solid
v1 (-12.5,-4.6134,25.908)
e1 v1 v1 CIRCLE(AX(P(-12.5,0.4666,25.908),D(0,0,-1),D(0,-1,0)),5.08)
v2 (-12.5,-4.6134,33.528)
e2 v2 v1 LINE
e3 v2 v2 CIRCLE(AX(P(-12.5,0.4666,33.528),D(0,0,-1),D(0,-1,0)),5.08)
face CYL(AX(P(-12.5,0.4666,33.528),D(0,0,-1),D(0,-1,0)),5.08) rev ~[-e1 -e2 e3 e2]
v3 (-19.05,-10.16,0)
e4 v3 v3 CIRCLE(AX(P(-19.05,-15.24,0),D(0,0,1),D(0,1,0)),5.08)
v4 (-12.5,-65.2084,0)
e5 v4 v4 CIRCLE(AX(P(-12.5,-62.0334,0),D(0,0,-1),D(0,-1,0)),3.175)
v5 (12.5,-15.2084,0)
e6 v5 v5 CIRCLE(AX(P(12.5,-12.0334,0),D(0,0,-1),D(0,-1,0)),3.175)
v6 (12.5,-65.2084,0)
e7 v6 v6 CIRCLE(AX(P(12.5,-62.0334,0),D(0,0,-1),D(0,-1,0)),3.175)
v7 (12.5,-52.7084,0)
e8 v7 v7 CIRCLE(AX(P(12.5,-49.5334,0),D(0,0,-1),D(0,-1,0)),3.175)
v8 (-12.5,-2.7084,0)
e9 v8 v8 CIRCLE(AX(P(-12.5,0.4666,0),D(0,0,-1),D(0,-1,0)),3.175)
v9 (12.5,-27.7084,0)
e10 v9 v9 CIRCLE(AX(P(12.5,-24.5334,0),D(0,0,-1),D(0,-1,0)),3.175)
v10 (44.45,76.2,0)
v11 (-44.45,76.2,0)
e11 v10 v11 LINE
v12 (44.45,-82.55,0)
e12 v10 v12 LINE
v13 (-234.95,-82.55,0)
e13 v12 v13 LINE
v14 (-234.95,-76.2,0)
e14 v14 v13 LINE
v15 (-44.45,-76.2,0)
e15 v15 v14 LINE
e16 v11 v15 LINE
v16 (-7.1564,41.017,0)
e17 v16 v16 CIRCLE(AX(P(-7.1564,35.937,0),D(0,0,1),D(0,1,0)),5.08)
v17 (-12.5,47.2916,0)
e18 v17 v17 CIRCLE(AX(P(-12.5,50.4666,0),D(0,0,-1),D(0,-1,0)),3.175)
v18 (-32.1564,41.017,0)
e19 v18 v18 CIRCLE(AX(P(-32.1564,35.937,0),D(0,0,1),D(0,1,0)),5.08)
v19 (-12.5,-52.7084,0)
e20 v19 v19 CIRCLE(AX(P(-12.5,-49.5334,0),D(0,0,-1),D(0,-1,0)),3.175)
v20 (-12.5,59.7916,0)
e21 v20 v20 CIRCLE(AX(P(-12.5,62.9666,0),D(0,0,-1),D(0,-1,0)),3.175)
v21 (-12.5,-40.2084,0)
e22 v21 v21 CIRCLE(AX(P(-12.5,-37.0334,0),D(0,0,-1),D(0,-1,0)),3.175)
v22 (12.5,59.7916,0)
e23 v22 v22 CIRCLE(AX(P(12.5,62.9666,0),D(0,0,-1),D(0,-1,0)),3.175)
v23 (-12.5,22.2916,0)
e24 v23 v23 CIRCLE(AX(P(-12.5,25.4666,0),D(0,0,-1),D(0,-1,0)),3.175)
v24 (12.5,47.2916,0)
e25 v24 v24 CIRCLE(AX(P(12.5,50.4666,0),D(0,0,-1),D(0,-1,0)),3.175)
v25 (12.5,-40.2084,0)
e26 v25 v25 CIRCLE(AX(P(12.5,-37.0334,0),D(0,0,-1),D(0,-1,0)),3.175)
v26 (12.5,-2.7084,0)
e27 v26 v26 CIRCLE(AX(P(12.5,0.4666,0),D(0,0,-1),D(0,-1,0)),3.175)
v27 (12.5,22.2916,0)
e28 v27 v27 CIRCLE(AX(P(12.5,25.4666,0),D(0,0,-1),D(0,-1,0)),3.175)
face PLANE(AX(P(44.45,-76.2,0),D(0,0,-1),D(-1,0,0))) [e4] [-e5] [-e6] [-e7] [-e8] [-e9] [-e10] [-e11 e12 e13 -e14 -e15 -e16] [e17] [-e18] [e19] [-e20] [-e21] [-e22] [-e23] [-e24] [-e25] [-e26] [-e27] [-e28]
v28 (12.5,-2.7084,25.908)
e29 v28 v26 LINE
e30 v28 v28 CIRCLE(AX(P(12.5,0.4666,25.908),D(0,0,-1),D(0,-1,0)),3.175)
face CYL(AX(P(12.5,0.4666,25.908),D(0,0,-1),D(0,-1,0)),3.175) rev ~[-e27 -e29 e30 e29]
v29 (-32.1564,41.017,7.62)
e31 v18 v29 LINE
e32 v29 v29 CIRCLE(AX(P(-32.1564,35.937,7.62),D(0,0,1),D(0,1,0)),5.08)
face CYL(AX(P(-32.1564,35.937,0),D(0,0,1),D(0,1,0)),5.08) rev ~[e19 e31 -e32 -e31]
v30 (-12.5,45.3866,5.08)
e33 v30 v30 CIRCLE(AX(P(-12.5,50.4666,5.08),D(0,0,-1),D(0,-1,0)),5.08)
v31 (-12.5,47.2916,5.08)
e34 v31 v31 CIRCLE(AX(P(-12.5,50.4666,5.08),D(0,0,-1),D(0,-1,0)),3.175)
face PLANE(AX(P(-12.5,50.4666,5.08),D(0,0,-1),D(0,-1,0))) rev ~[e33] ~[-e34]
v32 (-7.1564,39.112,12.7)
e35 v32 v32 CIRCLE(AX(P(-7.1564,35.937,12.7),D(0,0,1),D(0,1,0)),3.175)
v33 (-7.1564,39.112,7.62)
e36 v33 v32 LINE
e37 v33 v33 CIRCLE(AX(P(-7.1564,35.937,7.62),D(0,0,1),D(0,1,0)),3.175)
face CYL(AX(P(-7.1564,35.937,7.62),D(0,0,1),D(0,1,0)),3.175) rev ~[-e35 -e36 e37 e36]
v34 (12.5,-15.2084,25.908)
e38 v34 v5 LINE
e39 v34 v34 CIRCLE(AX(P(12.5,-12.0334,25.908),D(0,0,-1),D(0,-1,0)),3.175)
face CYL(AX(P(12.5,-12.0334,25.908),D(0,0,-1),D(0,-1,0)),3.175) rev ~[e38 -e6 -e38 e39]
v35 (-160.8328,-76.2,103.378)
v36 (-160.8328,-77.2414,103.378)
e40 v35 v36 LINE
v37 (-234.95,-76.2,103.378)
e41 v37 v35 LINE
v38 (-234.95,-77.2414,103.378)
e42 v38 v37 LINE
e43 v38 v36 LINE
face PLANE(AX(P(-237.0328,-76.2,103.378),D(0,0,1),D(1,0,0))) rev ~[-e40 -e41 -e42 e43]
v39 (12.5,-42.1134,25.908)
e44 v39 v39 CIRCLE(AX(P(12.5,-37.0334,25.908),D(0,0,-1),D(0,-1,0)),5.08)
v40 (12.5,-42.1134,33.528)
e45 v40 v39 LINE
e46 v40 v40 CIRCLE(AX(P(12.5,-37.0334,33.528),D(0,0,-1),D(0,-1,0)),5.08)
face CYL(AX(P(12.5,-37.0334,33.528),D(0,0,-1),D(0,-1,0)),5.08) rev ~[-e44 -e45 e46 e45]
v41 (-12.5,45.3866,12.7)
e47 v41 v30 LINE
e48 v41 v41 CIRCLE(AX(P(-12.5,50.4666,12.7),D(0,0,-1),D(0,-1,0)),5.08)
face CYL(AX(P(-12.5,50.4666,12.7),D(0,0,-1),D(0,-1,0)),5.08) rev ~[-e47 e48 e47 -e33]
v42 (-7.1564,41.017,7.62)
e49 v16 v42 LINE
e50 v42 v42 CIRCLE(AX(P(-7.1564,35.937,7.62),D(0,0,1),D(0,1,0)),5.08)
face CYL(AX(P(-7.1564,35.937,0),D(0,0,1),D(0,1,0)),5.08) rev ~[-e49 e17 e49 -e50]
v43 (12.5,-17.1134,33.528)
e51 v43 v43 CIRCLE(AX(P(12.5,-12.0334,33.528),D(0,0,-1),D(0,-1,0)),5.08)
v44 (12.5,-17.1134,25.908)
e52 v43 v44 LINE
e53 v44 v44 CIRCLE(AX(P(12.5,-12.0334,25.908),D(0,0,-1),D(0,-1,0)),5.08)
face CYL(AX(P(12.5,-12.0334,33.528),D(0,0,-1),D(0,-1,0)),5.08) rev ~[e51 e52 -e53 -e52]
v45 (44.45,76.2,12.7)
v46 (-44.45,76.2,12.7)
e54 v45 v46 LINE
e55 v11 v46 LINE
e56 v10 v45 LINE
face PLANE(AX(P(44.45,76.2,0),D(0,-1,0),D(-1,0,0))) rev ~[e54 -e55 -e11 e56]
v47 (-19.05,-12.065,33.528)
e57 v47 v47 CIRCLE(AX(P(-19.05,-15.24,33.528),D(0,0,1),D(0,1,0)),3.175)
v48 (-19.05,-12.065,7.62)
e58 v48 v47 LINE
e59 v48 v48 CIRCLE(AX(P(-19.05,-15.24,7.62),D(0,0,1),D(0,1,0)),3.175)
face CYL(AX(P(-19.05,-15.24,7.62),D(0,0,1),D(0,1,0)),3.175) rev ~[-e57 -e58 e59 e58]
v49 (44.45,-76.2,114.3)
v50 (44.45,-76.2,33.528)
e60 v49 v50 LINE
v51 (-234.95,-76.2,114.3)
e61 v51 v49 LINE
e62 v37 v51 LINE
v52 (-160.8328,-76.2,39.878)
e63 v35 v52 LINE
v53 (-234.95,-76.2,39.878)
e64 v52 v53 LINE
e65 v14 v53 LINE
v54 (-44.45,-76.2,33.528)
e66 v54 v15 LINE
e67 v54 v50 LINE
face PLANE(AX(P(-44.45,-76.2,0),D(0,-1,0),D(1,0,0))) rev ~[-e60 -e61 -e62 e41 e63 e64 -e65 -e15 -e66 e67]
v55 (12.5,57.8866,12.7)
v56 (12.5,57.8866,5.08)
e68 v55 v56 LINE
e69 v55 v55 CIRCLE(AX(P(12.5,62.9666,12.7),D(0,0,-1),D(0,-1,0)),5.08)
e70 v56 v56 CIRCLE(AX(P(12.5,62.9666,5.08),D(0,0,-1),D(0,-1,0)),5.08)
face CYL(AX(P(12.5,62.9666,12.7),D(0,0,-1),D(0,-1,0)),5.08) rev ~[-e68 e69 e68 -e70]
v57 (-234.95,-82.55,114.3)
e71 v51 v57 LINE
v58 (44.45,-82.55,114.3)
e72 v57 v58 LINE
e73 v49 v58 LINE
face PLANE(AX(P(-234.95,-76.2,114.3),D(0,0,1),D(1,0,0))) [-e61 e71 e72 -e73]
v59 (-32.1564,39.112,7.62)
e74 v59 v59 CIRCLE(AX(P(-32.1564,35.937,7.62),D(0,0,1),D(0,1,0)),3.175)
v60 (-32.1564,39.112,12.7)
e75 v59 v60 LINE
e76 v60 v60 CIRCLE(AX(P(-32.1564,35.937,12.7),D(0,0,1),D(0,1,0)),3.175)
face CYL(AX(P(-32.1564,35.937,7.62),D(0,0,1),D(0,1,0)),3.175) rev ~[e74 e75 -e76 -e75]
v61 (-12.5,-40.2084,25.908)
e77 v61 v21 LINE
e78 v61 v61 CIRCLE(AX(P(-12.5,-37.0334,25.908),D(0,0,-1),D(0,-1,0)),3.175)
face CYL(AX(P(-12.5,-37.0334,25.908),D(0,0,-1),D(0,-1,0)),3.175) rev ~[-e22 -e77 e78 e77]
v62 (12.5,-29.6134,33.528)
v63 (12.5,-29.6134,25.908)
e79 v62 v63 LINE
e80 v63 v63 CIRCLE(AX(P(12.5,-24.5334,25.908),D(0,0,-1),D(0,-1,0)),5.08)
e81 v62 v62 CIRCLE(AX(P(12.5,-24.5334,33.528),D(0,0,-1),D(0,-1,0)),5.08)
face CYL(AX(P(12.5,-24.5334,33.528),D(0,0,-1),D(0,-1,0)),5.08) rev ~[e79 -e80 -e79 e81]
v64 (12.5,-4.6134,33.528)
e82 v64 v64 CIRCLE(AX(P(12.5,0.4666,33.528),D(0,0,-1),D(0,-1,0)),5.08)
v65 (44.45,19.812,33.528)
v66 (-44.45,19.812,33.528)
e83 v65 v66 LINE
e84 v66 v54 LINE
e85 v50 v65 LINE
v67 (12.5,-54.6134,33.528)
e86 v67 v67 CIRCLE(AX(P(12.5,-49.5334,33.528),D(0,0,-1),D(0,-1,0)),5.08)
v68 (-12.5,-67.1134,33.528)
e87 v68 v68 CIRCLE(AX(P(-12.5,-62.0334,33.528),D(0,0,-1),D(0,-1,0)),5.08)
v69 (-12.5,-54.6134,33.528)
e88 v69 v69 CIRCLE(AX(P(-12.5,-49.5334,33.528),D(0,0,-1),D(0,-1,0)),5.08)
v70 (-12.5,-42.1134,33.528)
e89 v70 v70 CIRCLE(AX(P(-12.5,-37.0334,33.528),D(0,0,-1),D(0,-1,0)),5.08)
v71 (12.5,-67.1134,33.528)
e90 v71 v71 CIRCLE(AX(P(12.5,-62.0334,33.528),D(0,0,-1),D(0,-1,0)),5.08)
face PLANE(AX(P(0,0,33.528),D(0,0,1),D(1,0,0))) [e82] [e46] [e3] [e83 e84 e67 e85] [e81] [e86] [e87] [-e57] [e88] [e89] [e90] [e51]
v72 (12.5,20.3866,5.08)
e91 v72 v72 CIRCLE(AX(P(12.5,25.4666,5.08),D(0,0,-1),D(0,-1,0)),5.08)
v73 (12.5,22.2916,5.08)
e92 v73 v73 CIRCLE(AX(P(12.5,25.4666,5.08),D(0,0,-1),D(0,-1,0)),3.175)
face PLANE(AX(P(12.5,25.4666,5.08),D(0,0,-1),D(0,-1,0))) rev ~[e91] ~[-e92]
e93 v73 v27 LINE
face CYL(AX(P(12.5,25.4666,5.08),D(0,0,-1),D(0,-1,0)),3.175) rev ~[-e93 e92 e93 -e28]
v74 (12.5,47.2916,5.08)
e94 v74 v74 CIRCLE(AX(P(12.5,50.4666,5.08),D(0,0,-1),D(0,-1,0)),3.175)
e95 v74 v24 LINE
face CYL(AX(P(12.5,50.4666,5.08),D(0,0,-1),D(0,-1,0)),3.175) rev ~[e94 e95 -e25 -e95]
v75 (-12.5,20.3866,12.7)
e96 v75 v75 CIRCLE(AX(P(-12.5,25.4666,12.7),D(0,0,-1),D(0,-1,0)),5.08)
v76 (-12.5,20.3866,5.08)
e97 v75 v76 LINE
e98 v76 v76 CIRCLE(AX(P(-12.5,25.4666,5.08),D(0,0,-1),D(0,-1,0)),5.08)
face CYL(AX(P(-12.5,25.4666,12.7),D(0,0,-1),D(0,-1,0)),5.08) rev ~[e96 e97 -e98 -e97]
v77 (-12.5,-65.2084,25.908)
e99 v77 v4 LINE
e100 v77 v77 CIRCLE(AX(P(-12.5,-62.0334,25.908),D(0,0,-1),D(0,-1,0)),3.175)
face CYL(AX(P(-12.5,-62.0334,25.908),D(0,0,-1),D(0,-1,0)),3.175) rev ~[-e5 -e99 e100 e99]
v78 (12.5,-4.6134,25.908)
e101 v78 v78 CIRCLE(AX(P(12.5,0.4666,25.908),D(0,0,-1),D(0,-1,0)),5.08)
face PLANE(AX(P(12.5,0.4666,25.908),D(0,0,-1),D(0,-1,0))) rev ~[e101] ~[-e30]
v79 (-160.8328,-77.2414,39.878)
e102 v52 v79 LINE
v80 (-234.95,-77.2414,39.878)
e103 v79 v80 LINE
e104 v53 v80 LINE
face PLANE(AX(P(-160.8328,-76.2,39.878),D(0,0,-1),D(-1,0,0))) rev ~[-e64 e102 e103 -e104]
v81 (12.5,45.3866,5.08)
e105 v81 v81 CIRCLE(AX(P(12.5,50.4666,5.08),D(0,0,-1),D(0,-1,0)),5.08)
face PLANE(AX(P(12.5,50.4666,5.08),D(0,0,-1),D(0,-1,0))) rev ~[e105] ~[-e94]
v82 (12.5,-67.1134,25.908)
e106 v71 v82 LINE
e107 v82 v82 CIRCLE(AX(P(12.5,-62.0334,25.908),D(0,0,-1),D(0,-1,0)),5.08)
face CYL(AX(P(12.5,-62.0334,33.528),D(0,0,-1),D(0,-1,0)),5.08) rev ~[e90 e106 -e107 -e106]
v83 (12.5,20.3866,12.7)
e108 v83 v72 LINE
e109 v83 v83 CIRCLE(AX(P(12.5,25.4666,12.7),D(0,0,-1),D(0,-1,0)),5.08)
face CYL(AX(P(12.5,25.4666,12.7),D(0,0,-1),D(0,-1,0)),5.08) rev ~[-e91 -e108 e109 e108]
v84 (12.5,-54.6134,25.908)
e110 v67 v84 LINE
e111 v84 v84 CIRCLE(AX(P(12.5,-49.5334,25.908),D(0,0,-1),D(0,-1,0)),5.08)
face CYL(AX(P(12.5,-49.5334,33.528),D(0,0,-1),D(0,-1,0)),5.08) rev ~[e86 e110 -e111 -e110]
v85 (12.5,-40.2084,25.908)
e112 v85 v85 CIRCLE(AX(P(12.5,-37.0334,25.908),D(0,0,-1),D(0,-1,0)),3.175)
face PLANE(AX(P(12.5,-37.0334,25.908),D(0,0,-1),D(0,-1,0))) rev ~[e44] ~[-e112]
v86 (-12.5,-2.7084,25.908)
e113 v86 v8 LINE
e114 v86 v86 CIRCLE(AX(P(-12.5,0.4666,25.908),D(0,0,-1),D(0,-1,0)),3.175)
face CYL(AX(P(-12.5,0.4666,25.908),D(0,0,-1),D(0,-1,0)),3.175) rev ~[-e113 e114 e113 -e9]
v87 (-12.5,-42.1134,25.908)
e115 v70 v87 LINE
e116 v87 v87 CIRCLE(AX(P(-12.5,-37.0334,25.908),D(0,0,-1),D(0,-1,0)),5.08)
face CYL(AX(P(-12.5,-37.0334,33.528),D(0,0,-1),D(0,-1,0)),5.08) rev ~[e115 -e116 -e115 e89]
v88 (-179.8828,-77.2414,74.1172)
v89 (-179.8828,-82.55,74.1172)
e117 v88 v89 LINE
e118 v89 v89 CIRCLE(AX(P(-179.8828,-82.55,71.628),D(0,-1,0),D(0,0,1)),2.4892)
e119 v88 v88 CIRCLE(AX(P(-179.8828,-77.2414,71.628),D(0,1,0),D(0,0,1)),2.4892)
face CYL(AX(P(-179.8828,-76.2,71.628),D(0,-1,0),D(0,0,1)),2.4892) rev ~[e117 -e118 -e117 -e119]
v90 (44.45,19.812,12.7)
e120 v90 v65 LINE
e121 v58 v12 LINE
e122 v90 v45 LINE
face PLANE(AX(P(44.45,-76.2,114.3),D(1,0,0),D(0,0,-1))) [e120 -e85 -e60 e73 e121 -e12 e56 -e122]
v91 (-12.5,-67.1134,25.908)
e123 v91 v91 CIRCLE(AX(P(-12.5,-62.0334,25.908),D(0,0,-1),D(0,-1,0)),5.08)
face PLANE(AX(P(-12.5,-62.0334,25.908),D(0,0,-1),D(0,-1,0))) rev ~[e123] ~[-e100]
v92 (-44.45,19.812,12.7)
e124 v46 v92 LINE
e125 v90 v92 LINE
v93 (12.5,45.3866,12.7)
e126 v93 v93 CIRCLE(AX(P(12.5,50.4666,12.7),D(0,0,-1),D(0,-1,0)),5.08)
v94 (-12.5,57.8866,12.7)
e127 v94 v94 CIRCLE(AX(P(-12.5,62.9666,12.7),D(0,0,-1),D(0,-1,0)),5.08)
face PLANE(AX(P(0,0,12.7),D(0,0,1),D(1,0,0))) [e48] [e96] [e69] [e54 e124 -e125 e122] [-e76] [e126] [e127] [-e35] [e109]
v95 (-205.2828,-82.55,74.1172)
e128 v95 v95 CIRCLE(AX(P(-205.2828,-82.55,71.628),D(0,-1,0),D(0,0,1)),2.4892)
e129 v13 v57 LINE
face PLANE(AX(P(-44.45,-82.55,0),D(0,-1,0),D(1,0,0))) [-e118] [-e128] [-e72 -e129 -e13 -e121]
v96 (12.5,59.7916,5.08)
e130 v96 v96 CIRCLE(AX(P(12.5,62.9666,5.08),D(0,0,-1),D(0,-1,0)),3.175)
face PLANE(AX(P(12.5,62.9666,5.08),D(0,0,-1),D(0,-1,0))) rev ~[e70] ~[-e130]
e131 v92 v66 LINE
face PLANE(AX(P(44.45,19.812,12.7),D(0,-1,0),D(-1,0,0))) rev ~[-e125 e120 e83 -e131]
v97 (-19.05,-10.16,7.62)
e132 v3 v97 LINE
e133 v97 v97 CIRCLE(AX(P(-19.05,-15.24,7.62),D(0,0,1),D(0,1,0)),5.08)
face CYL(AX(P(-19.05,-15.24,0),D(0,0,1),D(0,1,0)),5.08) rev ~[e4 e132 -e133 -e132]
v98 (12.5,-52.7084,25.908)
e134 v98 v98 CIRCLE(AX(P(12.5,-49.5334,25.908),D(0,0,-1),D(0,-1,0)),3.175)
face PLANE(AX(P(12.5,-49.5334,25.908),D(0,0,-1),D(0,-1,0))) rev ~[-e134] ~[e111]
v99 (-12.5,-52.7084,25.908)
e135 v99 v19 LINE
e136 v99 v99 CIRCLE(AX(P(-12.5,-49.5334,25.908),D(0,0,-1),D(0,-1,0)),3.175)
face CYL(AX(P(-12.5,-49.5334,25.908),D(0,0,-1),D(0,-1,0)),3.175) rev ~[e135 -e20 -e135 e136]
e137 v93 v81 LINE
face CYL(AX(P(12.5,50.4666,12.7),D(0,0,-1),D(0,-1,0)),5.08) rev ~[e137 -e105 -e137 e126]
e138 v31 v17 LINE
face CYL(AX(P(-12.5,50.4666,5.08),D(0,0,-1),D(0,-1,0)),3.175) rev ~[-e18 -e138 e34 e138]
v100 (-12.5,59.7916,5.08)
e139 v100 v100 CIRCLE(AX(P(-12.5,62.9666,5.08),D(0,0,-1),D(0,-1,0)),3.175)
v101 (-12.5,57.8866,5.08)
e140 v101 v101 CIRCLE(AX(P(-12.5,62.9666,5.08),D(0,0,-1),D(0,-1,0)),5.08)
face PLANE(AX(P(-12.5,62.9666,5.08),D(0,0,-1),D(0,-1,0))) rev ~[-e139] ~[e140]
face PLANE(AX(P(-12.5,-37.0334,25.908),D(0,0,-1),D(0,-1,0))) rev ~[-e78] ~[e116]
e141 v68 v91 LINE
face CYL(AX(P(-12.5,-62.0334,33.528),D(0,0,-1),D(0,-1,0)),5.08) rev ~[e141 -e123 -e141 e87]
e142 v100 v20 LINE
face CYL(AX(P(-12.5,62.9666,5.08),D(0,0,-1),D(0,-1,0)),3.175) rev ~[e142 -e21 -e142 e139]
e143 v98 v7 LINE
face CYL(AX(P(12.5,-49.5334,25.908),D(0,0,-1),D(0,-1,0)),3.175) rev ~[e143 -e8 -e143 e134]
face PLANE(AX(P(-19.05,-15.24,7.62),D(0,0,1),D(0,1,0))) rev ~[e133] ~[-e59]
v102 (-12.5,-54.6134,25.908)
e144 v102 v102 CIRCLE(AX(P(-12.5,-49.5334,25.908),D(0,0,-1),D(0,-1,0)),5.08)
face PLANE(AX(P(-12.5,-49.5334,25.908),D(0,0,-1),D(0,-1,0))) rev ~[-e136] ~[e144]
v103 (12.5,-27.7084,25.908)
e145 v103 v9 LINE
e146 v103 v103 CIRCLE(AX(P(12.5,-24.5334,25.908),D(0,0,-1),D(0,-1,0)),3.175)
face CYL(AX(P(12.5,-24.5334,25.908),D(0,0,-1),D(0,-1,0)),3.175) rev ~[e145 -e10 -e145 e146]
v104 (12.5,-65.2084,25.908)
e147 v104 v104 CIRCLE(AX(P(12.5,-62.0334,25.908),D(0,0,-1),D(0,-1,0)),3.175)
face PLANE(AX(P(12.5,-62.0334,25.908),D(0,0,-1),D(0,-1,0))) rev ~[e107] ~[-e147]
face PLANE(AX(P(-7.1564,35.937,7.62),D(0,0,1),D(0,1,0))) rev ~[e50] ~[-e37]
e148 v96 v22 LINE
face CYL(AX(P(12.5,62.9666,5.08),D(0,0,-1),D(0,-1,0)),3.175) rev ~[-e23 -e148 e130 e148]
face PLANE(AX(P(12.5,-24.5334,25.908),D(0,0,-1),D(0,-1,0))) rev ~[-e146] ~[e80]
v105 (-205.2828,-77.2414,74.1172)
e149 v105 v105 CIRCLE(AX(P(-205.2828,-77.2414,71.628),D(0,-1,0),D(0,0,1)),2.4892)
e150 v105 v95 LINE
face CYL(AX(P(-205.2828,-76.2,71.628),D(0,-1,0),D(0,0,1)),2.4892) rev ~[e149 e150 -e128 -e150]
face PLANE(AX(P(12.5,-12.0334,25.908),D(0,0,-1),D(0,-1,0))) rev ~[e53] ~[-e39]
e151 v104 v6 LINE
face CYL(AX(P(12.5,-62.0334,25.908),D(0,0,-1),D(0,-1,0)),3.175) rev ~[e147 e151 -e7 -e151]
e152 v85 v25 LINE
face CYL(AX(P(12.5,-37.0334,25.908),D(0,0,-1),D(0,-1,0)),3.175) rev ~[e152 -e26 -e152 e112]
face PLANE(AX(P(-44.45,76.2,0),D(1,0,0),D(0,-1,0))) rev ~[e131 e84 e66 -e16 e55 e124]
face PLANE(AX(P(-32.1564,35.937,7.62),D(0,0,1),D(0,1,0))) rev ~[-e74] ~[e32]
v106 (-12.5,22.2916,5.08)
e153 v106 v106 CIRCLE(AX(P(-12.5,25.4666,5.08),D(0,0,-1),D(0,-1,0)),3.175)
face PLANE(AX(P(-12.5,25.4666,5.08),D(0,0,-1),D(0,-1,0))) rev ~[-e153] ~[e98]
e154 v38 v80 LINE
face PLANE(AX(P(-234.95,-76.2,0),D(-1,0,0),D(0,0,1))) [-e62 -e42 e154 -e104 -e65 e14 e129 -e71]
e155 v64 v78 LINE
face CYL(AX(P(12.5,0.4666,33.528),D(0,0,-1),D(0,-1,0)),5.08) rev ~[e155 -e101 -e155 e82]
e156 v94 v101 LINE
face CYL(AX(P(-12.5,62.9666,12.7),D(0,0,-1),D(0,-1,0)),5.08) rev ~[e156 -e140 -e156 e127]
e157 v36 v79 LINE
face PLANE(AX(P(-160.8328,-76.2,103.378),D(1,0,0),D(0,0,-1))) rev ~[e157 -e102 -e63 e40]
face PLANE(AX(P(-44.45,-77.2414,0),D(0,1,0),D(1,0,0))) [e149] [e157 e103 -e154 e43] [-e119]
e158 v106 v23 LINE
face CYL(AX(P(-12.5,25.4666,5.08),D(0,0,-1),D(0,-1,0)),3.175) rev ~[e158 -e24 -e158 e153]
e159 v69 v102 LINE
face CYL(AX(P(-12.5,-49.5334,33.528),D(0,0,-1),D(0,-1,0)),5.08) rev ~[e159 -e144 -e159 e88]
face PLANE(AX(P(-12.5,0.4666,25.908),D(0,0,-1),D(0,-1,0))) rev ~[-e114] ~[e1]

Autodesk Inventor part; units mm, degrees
ref_plane "YZ Plane" through (0, 0, 0) normal (1, 0, 0) x (0, 1, 0)
ref_plane "XZ Plane" through (0, 0, 0) normal (0, 1, 0) x (-1, 0, 0)
ref_plane "XY Plane" through (0, 0, 0) normal (0, 0, 1) x (1, 0, 0)
sketch "Sketch1" plane through (0, 0, 0) normal (0, 0, 1) x (1, 0, 0)
  line L0 (44.45, 76.2) -> (-44.45, 76.2)
  line L1 (-44.45, 76.2) -> (-44.45, -76.2)
  line L2 (-44.45, -76.2) -> (44.45, -76.2)
  line L3 (44.45, -76.2) -> (44.45, 76.2)
  line L4 (44.45, 76.2) -> (-44.45, -76.2) construction
  line L5 (-44.45, 76.2) -> (44.45, -76.2) construction
  point P0 (0, 0)
  dimension "d0" = 152.4
  dimension "d1" = 88.9
extrude "Extrusion1" add sketch "Sketch1" along normal blind 12.7
sketch "Sketch2" plane through (0, 0, 12.7) normal (0, 0, 1) x (1, 0, 0)
  line L0 (-44.45, 76.2) -> (-44.45, -76.2) projected
  line L1 (44.45, -76.2) -> (44.45, 76.2) projected
  line L2 (-44.45, -76.2) -> (44.45, -76.2)
  line L3 (44.45, -76.2) -> (44.45, 19.812)
  line L4 (44.45, 19.812) -> (-44.45, 19.812)
  line L5 (-44.45, 19.812) -> (-44.45, -76.2)
  point P0 (0, 0)
  dimension "d4" = 96.012
extrude "Extrusion2" add sketch "Sketch2" along normal blind 20.828
sketch "Sketch3" plane through (0, 0, 0) normal (0, 0, -1) x (-1, 0, 0)
  line L0 (-44.45, -76.2) -> (-44.45, 76.2) projected
  line L1 (44.45, -76.2) -> (-44.45, -76.2) projected
  point P0 (0, 0)
  point P1 (19.05, -15.24)
  dimension "d14" = 63.5
  dimension "d15" = 60.96
hole "Hole1" at (-19.05, -15.24, 0) direction (0, 0, 1) diameter 6.35 end through all counterbore diameter 10.16 counterbore depth 7.62
sketch "Sketch4" plane through (0, 0, 0) normal (0, 0, -1) x (-1, 0, 0)
  line L0 (44.45, -76.2) -> (-44.45, -76.2) projected
  line L1 (-44.45, -76.2) -> (-44.45, 76.2) projected
  point P0 (0, 0)
  point P1 (32.1564, 35.937)
  point P2 (44.45, 19.812)
  dimension "d24" = 76.6064
  dimension "d155" = 16.125
hole "Hole2" at (-32.1564, 35.937, 0) direction (0, 0, 1) diameter 6.35 end through all counterbore diameter 10.16 counterbore depth 7.62
pattern_linear "Rectangular Pattern1" count 2 spacing 25 along (1, 0, 0) of "Hole2"
sketch "Sketch5" plane through (0, 0, 12.7) normal (0, 0, 1) x (1, 0, 0)
  line L0 (-44.45, 76.2) -> (-44.45, 19.812) projected
  line L1 (44.45, 76.2) -> (-44.45, 76.2) projected
  point P0 (0, 0)
  point P1 (-12.5, 62.9666)
  dimension "d35" = 31.95
  dimension "d36" = 13.2334
hole "Hole3" at (-12.5, 62.9666, 12.7) direction (0, 0, -1) diameter 6.35 end through all counterbore diameter 10.16 counterbore depth 7.62
pattern_linear "Rectangular Pattern2" count 2 spacing 25 along (1, 0, 0) count 2 spacing 12.5 along (0, -1, 0) of "Hole3"
sketch "Sketch6" plane through (0, 0, 12.7) normal (0, 0, 1) x (1, 0, 0)
  circle A0 centre (-12.5, 50.4666) radius 5.08 projected
  line L0 (-44.45, 76.2) -> (-44.45, 19.812) projected
  point P0 (0, 0)
  point P1 (-12.5, 25.4666)
  dimension "d50" = 25
  dimension "d51" = 31.95
hole "Hole4" at (-12.5, 25.4666, 12.7) direction (0, 0, -1) diameter 6.35 end through all counterbore diameter 10.16 counterbore depth 7.62
pattern_linear "Rectangular Pattern3" count 2 spacing 25 along (1, 0, 0) of "Hole4"
sketch "Sketch7" plane through (0, 0, 33.528) normal (0, 0, 1) x (1, 0, 0)
  line L0 (-44.45, 19.812) -> (-44.45, -76.2) projected
  circle A0 centre (-12.5, 25.4666) radius 3.175 projected
  point P0 (0, 0)
  point P1 (-12.5, 0.4666)
  dimension "d62" = 31.95
  dimension "d63" = 25
hole "Hole5" at (-12.5, 0.4666, 33.528) direction (0, 0, -1) diameter 6.35 end through all counterbore diameter 10.16 counterbore depth 7.62
pattern_linear "Rectangular Pattern4" count 2 spacing 25 along (1, 0, 0) of "Hole5"
sketch "Sketch8" plane through (0, 0, 33.528) normal (0, 0, 1) x (1, 0, 0)
  line L0 (-44.45, 19.812) -> (-44.45, -76.2) projected
  circle A0 centre (-12.5, 0.4666) radius 5.08 projected
  point P0 (0, 0)
  point P1 (-12.5, -37.0334)
  dimension "d74" = 31.95
  dimension "d75" = 37.5
hole "Hole6" at (-12.5, -37.0334, 33.528) direction (0, 0, -1) diameter 6.35 end through all counterbore diameter 10.16 counterbore depth 7.62
pattern_linear "Rectangular Pattern5" count 2 spacing 25 along (1, 0, 0) count 3 spacing 12.5 along (0, -1, 0) of "Hole6"
sketch "Sketch9" plane through (0, 0, 33.528) normal (0, 0, 1) x (1, 0, 0)
  line L0 (44.45, -76.2) -> (44.45, 19.812) projected
  circle A0 centre (12.5, 0.4666) radius 5.08 projected
  point P0 (0, 0)
  point P1 (12.5, -12.0334)
  dimension "d89" = 31.95
  dimension "d90" = 12.5
hole "Hole7" at (12.5, -12.0334, 33.528) direction (0, 0, -1) diameter 6.35 end through all counterbore diameter 10.16 counterbore depth 7.62
pattern_linear "Rectangular Pattern6" count 2 spacing 12.5 along (0, -1, 0) of "Hole7"
sketch "Sketch13" plane through (-44.45, -76.2, 0) normal (0, -1, 0) x (1, 0, 0)
  line L0 (88.9, 0) -> (0, 0) projected
  line L1 (88.9, 0) -> (-190.5, 0)
  line L2 (-190.5, 0) -> (-190.5, 114.3)
  line L3 (-190.5, 114.3) -> (88.9, 114.3)
  line L4 (88.9, 114.3) -> (88.9, 0)
  point P0 (44.45, 0)
  dimension "d133" = 279.4
  dimension "d134" = 114.3
extrude "Extrusion3" add sketch "Sketch13" along normal blind 6.35
sketch "Sketch14" plane through (-44.45, -76.2, 0) normal (0, 1, 0) x (1, 0, 0)
  line L0 (88.9, 0) -> (88.9, -114.3) projected
  line L1 (-190.5, 0) -> (0, 0) projected
  point P0 (44.45, 0)
  point P1 (-135.4328, -71.628)
  dimension "d144" = 224.3328
  dimension "d145" = 71.628
hole "Hole11" at (-179.8828, -76.2, 71.628) direction (0, -1, 0) diameter 4.9784 end through all thread size "1/4-20 UNC" class "2B" standard "ANSI Unified Screw Threads"
pattern_linear "Rectangular Pattern10" count 2 spacing 25.4 along (-1, 0, 0) of "Hole11"
sketch "Sketch15" plane through (-44.45, -76.2, 0) normal (0, 1, 0) x (1, 0, 0)
  line L0 (-116.3828, -39.878) -> (-192.5828, -39.878)
  line L1 (-192.5828, -39.878) -> (-192.5828, -103.378)
  line L2 (-192.5828, -103.378) -> (-116.3828, -103.378)
  line L3 (-116.3828, -103.378) -> (-116.3828, -39.878)
  circle A0 centre (-135.4328, -71.628) radius 2.4892 projected
  point P0 (44.45, 0)
  dimension "d149" = 63.5
  dimension "d150" = 76.2
  dimension "d151" = 19.05
  dimension "d152" = 31.75
extrude "Extrusion4" cut sketch "Sketch15" against normal blind 1.0414
properties part number "Baseplate as 1 V3"
